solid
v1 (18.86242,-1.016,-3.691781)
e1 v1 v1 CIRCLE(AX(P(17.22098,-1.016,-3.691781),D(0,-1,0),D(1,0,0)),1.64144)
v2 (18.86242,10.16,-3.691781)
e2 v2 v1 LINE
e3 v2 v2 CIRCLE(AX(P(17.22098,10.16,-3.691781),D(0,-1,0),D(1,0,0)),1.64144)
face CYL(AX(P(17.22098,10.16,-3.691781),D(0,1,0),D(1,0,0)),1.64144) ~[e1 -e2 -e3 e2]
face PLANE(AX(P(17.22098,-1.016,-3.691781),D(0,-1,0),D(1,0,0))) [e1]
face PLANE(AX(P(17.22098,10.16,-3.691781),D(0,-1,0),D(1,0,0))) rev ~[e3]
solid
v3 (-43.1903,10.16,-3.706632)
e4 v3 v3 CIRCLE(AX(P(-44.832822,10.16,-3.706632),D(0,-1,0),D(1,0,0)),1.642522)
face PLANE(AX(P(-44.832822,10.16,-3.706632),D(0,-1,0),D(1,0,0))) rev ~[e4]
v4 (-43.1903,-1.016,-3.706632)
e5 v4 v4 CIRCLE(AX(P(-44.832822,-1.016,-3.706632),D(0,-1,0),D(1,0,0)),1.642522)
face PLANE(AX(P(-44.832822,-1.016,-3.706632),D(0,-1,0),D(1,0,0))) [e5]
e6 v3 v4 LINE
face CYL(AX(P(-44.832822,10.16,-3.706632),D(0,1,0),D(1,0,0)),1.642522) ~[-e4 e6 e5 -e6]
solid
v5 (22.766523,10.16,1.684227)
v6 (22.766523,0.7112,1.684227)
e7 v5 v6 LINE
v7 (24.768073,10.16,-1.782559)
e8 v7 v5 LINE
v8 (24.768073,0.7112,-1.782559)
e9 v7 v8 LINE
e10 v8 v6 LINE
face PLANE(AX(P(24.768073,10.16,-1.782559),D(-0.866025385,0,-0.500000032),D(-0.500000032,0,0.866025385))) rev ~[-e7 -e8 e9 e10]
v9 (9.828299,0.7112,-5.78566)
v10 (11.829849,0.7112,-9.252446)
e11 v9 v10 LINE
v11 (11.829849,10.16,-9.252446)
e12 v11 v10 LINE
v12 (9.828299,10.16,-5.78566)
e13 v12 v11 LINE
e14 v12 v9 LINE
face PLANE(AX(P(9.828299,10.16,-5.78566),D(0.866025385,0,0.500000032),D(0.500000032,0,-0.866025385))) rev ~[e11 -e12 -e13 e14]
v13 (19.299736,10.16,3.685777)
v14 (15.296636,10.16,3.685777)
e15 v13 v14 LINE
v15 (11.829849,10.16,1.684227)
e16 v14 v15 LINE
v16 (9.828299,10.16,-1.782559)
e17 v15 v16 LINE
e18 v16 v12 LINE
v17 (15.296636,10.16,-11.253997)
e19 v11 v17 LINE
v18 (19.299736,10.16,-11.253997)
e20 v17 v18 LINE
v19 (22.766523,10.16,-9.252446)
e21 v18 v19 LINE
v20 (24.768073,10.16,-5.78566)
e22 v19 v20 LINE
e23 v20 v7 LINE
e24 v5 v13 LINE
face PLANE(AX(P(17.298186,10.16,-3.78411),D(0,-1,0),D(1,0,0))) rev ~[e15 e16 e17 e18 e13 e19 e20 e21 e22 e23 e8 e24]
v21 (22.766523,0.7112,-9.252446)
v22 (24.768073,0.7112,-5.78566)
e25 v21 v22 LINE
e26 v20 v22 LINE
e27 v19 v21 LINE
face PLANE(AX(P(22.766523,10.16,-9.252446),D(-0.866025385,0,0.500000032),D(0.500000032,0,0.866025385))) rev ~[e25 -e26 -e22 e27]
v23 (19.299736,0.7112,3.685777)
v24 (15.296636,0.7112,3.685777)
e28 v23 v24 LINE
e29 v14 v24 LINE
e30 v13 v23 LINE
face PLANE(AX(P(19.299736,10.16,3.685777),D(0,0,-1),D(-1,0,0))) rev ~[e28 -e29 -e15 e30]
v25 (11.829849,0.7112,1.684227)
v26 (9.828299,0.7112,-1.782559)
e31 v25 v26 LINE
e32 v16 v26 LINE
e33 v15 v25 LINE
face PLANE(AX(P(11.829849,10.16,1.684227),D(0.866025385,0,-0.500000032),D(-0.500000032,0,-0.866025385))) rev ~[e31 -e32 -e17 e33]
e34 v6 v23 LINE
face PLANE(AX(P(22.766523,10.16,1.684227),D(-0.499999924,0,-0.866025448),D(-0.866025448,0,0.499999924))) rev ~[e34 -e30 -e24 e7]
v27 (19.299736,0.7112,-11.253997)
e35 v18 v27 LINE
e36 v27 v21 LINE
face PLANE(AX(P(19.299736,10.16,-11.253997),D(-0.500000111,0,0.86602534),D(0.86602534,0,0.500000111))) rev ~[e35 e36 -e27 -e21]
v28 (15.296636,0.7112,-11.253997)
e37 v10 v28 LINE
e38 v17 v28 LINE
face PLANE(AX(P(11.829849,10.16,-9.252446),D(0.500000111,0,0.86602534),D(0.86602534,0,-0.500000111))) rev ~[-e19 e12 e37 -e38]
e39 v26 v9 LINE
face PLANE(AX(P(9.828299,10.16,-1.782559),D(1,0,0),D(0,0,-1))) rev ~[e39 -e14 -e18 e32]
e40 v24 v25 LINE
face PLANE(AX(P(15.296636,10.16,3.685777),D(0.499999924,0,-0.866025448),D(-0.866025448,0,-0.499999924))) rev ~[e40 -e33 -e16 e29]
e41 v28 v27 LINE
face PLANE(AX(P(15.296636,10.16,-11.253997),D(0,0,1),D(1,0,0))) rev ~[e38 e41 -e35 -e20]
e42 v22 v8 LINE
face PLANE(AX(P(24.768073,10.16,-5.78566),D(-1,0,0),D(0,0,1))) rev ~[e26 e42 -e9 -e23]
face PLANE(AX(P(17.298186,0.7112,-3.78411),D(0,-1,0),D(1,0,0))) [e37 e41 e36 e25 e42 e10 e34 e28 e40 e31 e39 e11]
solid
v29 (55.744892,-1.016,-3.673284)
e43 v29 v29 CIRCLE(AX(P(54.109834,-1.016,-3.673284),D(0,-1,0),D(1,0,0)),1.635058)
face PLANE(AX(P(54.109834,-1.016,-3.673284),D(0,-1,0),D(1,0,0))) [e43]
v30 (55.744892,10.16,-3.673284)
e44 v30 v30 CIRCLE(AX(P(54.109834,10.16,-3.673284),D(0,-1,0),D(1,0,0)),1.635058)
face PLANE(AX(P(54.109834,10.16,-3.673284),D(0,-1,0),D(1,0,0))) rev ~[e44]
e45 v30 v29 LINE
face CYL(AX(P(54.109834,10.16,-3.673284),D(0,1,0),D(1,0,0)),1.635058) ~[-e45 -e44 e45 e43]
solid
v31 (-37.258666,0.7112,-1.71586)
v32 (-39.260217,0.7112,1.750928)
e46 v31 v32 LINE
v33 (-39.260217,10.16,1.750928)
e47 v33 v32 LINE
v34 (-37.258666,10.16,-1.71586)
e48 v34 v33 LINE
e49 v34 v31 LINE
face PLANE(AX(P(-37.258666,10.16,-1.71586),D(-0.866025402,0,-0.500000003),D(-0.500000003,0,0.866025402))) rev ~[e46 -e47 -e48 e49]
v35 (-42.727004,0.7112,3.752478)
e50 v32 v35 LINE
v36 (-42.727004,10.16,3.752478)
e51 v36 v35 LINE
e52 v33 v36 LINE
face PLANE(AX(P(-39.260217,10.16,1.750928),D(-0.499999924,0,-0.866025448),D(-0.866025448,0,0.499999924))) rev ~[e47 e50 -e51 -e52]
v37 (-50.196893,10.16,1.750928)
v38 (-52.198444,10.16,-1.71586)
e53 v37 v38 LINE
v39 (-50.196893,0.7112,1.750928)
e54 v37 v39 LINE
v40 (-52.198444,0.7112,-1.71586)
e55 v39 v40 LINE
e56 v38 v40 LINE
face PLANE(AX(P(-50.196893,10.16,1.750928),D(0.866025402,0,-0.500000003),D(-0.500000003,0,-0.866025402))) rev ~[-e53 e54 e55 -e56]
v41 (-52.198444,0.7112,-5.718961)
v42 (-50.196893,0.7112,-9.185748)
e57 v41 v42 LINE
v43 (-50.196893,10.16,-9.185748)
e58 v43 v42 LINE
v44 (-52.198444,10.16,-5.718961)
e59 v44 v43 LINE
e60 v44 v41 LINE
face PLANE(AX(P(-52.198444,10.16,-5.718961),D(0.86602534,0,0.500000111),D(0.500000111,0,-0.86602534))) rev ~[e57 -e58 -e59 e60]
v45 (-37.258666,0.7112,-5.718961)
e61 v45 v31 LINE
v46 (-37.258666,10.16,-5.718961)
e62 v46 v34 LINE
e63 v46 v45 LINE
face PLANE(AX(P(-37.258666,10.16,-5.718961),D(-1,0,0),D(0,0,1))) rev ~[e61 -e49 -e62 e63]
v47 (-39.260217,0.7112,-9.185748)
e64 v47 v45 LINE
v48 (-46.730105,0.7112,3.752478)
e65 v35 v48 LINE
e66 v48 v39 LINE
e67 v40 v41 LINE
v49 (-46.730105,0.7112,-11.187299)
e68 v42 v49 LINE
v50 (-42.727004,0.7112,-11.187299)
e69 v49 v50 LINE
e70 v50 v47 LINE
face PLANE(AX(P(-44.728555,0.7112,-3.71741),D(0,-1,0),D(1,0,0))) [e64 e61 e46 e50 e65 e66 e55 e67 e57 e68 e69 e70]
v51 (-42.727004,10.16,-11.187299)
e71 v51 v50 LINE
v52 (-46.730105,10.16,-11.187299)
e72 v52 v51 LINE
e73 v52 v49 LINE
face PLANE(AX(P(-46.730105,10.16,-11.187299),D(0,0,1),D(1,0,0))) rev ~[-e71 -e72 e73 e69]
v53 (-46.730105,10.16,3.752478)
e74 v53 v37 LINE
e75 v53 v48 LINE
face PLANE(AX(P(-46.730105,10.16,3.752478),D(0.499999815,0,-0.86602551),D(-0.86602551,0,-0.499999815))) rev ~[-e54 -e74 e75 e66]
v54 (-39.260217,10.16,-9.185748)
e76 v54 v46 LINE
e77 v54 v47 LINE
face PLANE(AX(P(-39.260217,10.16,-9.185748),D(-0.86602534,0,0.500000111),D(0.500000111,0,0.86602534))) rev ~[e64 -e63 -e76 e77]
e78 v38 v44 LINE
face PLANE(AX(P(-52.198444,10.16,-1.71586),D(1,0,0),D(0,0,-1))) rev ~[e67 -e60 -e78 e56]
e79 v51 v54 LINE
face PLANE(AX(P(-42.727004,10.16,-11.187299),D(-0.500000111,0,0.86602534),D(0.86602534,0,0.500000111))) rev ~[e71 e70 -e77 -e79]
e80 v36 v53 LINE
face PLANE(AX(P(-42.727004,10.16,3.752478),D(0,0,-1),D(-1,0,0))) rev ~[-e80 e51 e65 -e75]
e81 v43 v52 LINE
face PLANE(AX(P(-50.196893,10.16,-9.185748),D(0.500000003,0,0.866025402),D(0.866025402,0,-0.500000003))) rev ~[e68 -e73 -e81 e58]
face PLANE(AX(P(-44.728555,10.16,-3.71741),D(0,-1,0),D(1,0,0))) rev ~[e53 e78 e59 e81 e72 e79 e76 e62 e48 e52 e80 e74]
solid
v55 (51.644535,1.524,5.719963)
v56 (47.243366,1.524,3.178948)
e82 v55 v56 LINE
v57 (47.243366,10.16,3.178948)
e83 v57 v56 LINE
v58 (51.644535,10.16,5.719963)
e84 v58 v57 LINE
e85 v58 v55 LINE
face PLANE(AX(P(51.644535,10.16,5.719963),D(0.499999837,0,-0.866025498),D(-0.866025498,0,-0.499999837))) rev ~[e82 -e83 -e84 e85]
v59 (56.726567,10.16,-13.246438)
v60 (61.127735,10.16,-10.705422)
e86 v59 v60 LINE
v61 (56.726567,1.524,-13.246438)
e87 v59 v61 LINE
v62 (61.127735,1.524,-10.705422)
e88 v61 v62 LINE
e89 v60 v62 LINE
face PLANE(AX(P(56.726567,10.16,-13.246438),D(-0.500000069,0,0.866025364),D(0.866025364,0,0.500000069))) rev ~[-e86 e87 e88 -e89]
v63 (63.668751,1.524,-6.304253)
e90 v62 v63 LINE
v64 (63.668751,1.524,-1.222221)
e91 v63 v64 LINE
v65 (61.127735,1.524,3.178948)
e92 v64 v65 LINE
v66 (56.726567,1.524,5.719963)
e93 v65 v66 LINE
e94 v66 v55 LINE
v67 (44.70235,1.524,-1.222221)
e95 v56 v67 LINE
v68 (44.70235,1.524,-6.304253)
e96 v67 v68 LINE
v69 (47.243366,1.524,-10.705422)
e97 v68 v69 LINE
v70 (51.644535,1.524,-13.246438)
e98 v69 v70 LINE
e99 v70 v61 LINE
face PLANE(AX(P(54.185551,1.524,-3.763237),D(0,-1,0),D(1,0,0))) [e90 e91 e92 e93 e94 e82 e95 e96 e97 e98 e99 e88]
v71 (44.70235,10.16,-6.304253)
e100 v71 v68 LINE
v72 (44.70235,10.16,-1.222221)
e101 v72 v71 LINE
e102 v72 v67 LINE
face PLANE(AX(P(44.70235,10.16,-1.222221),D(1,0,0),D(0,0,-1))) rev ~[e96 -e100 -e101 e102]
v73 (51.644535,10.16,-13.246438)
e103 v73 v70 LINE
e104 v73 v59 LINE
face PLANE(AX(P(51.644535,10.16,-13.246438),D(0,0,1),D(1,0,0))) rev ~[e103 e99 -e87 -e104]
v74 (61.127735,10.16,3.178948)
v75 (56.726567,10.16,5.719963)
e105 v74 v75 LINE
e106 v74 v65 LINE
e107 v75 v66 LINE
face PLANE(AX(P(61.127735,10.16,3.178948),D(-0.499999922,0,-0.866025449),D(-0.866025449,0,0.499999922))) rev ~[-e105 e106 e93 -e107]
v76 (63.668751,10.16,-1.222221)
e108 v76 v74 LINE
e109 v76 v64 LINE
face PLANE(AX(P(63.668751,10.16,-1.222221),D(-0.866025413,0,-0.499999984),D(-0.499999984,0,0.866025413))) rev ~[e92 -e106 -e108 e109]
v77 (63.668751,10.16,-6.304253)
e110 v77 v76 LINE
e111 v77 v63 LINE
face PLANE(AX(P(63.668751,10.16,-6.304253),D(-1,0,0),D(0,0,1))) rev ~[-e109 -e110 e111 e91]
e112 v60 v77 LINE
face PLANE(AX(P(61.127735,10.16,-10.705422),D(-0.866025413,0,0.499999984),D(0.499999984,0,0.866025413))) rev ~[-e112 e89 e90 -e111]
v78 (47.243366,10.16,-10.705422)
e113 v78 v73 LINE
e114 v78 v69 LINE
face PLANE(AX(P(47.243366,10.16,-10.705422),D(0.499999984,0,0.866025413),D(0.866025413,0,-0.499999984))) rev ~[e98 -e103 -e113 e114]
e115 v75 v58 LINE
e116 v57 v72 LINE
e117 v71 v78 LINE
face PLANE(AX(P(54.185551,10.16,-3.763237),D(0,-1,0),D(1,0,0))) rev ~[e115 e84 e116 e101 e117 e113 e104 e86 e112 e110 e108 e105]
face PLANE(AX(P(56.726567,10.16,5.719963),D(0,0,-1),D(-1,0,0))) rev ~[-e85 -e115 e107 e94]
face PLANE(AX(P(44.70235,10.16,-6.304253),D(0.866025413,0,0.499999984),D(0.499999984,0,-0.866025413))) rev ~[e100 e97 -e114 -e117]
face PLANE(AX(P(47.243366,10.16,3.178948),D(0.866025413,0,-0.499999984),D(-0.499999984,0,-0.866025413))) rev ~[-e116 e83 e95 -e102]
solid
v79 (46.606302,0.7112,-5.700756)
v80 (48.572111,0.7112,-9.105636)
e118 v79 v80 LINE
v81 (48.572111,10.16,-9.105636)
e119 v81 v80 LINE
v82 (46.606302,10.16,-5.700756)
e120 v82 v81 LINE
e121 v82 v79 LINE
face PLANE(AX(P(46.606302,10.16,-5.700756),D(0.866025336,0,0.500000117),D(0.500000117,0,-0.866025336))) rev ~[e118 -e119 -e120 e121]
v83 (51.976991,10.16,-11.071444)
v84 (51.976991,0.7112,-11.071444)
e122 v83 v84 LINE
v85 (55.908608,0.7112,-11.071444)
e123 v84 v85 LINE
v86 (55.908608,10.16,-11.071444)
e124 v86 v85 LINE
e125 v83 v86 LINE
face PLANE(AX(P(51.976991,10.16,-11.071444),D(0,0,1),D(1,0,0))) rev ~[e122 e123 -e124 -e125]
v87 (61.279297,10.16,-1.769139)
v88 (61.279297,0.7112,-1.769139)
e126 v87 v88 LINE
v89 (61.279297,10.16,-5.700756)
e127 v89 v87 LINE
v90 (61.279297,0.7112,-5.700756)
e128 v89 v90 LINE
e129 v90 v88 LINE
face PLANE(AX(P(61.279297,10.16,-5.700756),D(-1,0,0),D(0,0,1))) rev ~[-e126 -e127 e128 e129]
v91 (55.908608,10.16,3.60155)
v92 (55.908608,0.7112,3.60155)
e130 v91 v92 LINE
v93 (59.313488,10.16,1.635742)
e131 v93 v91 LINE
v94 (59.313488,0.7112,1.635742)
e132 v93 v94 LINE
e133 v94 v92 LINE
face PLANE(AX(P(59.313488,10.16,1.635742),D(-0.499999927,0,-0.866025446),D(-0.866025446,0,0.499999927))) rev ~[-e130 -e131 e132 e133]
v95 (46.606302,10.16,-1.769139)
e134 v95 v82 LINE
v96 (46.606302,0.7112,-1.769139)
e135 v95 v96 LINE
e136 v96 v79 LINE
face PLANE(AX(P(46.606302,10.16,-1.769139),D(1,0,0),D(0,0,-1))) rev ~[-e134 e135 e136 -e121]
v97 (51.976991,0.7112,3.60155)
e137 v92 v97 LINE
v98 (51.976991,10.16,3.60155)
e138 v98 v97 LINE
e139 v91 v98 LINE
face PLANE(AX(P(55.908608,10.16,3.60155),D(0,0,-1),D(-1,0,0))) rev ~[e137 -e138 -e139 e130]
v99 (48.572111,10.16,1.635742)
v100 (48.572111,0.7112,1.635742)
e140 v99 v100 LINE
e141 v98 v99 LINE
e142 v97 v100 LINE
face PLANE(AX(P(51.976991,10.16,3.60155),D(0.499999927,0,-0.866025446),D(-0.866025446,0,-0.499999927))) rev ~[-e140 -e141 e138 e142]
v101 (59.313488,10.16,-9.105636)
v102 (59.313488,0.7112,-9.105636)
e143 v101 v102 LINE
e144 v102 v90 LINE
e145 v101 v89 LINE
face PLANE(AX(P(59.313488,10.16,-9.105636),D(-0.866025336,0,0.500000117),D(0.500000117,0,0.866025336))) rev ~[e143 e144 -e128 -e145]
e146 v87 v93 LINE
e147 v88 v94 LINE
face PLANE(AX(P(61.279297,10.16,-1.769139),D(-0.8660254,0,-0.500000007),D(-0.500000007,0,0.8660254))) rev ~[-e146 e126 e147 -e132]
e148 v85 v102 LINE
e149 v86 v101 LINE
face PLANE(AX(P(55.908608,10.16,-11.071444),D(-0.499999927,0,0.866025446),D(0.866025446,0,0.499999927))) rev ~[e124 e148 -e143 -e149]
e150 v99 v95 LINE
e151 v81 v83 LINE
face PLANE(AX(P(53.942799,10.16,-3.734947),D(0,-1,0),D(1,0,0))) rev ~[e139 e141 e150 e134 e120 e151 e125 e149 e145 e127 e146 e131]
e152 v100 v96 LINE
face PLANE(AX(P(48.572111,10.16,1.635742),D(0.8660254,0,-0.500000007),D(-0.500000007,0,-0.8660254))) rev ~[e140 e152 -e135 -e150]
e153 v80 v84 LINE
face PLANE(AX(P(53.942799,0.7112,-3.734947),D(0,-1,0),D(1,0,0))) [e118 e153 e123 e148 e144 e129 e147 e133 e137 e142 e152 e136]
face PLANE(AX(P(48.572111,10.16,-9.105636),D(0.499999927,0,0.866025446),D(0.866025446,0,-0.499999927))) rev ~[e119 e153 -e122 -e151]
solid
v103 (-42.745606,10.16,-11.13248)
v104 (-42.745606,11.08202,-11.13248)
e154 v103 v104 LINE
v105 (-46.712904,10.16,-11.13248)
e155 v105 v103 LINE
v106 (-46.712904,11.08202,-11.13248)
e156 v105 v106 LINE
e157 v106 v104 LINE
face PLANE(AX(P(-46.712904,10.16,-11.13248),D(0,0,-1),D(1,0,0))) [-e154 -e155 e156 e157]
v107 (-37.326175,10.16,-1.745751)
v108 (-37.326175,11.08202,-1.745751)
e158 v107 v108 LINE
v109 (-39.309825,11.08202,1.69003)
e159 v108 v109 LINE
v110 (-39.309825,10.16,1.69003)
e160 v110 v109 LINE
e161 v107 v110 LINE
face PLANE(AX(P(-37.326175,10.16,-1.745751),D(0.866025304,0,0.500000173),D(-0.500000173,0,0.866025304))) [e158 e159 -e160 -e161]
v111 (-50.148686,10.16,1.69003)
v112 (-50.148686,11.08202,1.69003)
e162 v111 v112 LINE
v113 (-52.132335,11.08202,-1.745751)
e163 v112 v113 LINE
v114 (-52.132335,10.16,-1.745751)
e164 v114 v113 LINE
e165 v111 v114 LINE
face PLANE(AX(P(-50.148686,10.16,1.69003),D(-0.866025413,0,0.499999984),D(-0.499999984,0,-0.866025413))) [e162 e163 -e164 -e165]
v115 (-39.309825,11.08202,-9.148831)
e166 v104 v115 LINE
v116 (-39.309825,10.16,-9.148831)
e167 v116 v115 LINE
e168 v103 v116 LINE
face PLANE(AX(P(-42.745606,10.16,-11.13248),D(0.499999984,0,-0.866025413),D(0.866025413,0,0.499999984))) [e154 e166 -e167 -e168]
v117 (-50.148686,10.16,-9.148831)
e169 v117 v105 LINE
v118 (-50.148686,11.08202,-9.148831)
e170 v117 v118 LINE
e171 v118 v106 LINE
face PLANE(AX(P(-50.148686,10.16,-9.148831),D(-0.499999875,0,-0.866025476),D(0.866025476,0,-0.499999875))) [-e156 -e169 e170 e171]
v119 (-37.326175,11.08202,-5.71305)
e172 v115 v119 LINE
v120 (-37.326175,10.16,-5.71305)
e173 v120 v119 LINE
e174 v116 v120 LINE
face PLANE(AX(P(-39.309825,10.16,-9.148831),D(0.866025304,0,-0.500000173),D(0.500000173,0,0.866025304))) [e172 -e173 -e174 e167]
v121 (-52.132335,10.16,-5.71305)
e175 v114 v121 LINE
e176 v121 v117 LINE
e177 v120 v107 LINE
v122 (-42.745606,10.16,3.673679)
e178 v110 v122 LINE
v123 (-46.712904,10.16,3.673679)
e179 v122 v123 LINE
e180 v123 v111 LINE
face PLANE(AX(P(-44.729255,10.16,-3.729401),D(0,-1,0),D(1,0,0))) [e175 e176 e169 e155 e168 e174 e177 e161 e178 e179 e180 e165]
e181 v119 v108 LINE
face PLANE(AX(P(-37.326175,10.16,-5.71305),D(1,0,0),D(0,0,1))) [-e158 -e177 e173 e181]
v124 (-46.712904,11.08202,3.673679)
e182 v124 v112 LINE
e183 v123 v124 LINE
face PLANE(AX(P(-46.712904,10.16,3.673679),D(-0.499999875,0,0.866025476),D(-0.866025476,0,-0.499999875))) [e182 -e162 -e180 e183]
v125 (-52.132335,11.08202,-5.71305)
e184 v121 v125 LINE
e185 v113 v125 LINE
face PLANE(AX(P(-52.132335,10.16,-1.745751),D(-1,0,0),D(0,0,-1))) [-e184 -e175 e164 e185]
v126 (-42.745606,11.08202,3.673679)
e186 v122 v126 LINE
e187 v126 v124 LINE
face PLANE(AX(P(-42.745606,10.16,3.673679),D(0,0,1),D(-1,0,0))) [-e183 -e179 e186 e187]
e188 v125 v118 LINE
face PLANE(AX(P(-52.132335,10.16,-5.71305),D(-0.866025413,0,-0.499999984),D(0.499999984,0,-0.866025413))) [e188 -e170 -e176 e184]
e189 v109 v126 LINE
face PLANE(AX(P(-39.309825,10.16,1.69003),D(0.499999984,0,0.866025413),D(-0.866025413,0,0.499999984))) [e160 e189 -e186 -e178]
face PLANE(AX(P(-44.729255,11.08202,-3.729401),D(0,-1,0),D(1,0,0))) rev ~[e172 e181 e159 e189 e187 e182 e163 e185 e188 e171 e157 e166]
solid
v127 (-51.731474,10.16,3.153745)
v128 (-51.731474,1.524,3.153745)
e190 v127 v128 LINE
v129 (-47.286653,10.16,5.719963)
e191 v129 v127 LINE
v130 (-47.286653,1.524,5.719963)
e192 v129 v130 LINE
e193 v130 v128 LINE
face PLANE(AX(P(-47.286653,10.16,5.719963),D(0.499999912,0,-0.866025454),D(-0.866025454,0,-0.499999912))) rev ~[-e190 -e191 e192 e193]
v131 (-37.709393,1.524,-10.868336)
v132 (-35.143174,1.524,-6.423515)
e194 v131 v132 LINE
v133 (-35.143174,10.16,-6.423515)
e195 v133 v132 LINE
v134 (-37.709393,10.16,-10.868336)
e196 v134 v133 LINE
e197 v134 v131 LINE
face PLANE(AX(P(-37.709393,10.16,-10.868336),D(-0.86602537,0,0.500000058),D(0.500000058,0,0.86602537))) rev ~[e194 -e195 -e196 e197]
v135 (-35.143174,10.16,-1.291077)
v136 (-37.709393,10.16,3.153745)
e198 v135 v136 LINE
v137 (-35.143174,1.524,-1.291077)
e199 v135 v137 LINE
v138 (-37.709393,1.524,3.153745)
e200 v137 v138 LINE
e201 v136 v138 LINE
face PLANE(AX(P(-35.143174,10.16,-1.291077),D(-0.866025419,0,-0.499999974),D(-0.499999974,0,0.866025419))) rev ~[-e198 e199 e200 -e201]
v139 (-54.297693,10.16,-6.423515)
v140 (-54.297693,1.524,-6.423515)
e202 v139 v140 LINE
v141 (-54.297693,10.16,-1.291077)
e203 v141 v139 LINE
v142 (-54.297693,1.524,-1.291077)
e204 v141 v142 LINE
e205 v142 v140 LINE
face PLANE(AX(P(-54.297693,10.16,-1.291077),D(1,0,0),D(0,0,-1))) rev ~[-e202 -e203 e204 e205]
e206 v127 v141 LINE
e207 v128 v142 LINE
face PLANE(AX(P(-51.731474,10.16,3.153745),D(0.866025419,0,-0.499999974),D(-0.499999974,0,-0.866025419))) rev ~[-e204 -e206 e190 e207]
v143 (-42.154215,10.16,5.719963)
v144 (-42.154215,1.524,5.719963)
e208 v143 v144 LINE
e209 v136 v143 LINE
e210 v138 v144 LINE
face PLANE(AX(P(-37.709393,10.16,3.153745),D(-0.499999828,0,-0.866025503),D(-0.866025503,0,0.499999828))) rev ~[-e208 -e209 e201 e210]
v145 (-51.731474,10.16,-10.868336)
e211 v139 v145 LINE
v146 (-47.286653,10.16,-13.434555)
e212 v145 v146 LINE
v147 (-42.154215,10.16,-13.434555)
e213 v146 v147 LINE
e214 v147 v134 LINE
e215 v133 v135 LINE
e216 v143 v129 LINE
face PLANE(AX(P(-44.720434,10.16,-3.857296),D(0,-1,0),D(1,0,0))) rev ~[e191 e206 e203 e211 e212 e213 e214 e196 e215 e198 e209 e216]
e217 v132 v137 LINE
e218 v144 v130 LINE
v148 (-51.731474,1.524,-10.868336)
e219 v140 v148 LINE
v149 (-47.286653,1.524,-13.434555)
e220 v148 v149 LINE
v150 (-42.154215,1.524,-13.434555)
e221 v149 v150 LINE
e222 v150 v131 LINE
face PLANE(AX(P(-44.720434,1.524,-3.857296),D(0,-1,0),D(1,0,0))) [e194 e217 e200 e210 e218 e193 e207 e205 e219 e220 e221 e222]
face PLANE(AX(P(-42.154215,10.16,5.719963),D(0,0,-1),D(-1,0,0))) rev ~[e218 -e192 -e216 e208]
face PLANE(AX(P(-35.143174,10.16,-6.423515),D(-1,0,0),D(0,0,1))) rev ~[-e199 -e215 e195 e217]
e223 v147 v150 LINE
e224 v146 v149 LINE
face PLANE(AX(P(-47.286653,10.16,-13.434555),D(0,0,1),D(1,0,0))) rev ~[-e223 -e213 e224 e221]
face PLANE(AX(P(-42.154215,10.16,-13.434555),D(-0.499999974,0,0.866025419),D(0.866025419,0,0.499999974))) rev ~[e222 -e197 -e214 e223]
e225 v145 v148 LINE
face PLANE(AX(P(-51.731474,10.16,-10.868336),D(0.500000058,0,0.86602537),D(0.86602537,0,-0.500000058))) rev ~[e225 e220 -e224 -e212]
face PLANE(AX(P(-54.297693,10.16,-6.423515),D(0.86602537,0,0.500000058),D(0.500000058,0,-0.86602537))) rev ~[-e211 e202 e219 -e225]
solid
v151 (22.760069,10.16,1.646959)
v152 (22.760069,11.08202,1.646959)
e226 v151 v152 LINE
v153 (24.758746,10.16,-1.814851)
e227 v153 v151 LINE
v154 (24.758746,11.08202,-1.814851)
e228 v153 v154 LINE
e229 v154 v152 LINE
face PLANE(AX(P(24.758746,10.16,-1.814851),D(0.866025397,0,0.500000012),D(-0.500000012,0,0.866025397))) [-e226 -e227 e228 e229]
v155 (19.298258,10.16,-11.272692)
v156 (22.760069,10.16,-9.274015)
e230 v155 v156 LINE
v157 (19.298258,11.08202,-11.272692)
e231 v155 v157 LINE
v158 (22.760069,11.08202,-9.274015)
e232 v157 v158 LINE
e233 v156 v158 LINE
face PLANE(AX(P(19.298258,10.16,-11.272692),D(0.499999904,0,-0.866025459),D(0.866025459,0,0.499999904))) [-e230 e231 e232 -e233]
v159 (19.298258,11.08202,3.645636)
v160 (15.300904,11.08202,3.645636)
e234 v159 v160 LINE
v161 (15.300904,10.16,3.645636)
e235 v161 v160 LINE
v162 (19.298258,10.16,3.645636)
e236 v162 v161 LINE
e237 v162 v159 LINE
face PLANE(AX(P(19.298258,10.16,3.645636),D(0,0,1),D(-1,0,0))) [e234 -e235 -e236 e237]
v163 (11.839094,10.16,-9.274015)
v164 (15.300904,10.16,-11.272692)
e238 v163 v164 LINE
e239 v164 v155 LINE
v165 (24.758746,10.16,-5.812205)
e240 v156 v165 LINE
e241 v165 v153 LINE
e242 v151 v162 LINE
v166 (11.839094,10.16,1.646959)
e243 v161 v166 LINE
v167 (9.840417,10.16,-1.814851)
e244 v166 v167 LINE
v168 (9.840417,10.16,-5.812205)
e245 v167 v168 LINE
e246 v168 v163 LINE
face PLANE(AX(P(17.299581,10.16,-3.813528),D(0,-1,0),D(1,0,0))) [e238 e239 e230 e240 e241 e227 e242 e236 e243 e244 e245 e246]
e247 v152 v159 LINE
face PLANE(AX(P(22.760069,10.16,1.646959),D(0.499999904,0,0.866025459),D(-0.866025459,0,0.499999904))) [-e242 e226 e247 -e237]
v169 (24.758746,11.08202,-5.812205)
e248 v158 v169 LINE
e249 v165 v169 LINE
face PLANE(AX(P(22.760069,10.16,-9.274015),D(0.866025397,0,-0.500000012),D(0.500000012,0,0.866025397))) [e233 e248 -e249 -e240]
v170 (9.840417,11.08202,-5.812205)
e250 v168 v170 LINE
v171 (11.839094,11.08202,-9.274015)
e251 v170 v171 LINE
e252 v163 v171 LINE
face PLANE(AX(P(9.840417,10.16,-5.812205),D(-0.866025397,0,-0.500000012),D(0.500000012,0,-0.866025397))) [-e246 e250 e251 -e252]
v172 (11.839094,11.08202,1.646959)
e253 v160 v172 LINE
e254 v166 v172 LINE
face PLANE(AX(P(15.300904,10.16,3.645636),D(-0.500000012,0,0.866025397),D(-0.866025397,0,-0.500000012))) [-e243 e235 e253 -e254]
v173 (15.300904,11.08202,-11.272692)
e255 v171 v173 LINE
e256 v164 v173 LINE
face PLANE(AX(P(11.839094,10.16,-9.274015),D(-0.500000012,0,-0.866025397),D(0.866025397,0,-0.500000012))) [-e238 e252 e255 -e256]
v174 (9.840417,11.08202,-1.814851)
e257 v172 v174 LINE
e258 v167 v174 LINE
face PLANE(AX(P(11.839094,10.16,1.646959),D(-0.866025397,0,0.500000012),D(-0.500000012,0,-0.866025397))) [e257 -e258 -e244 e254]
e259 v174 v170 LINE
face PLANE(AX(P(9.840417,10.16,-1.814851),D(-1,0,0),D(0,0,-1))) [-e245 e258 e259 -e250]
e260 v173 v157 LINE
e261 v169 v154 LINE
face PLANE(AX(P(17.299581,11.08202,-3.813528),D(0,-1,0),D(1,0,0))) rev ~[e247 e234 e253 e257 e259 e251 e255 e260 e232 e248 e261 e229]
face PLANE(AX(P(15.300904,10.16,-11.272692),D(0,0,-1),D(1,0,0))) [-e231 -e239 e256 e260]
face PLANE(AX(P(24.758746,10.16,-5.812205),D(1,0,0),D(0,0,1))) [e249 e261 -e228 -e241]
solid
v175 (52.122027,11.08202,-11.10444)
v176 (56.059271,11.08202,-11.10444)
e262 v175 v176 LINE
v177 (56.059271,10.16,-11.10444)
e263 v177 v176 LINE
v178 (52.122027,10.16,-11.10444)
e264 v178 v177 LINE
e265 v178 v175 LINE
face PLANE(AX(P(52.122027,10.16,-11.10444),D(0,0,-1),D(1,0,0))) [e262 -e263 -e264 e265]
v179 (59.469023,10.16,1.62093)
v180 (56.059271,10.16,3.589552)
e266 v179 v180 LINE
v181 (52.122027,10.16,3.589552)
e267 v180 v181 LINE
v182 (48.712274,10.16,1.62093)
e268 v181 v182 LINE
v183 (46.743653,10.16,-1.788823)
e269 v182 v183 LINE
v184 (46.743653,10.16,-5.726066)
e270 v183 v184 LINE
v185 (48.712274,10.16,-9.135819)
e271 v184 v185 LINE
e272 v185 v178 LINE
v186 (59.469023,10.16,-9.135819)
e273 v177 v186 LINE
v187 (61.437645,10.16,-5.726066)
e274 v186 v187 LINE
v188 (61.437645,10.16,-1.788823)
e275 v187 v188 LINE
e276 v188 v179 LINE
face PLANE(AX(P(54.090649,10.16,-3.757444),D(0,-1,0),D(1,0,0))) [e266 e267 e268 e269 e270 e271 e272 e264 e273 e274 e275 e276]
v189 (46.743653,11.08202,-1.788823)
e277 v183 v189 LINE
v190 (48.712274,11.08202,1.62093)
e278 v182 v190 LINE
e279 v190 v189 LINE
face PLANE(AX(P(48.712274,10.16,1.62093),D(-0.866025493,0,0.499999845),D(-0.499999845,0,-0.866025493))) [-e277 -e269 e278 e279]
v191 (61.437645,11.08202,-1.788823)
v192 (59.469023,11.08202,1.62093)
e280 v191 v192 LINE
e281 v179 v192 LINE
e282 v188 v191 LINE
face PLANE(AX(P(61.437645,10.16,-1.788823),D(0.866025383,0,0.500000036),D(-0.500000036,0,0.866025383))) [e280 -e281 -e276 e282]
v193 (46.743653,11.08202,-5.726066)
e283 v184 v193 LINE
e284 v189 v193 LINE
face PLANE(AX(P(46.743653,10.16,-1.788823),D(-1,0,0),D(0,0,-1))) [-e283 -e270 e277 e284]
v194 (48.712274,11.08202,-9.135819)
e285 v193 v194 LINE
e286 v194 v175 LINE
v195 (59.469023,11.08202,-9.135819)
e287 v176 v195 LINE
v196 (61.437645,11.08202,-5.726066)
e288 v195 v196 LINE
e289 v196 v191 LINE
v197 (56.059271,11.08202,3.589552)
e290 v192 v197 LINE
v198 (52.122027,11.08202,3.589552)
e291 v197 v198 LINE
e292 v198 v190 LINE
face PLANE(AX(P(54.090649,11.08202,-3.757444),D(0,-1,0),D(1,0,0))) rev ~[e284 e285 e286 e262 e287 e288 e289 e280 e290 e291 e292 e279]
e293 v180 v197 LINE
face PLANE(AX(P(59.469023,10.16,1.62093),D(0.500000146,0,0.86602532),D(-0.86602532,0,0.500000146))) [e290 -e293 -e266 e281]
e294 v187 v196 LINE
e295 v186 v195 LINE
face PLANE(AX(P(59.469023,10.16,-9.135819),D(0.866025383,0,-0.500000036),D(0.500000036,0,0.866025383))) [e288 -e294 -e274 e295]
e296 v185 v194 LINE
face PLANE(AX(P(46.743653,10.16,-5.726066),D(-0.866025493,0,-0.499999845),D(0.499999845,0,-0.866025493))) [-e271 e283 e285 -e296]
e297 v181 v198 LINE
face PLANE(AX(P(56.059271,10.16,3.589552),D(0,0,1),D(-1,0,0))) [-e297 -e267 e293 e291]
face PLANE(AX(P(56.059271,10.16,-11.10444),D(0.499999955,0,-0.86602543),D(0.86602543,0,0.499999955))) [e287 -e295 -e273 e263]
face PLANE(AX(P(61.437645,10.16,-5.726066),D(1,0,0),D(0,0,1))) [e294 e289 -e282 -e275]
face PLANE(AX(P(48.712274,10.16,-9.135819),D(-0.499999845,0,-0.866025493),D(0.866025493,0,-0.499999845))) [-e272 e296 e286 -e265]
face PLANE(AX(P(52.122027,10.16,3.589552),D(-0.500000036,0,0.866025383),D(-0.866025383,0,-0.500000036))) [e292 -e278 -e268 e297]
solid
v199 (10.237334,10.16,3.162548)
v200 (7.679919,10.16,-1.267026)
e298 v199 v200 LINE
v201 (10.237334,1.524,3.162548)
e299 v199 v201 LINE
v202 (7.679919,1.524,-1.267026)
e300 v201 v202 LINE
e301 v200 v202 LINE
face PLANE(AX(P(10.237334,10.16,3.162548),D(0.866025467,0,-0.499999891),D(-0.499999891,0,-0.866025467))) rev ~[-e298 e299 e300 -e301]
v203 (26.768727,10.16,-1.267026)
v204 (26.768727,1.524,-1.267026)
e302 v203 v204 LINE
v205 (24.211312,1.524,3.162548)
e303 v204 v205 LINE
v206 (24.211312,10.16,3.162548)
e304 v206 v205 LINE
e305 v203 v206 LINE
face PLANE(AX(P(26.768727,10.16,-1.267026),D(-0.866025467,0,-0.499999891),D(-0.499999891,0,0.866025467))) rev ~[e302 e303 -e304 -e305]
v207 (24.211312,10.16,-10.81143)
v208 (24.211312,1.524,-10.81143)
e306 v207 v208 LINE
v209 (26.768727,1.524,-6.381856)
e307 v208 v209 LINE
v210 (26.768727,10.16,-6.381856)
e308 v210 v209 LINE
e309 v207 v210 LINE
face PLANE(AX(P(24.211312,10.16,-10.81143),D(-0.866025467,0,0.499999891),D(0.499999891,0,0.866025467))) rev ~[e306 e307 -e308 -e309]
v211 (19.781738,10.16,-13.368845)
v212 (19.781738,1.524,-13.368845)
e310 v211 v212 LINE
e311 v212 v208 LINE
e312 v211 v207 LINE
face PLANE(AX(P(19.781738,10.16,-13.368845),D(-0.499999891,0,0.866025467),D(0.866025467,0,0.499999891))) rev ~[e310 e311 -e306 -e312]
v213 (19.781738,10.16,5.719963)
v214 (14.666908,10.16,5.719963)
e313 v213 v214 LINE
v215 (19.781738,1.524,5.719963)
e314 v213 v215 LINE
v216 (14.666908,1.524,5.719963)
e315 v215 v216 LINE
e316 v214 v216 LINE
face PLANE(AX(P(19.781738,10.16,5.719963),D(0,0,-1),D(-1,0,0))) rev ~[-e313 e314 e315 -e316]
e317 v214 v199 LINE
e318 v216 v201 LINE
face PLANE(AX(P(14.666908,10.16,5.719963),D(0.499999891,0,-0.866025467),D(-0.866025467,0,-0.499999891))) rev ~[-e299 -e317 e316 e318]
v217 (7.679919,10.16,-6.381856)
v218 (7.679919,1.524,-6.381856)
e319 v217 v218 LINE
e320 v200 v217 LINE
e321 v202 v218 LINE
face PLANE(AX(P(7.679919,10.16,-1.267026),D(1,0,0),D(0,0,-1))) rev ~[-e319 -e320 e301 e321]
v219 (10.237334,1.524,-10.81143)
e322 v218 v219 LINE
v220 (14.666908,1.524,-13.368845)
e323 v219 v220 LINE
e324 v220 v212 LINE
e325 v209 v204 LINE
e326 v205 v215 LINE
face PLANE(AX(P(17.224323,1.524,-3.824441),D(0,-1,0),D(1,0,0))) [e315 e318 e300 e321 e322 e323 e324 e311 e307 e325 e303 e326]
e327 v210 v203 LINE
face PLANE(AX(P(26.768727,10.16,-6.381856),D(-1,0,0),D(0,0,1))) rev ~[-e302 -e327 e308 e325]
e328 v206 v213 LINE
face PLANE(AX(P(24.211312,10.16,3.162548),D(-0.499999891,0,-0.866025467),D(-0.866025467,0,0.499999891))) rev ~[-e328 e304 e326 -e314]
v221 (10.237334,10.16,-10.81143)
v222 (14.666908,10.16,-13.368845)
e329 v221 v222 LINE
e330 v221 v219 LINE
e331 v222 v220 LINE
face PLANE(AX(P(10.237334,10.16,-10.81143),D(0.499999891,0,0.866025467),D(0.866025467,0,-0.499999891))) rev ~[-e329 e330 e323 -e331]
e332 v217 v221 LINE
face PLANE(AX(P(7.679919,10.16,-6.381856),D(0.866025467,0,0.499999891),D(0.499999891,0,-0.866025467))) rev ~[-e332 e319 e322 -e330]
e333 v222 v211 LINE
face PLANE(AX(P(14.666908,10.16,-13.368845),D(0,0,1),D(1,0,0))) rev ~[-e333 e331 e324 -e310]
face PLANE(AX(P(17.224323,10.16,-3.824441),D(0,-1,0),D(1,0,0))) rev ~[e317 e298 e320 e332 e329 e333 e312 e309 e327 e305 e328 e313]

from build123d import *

# Parameters (mm, degrees)
F7_DEPTH  = 8.636
F8_DEPTH  = 0.92202
F9_DEPTH  = 9.4488
F10_R     = 1.642522
F10_R_2   = 1.635058
F10_R_3   = 1.64144
F11_DEPTH = 11.176


with BuildPart() as f7:
    # F2 (on offset) → F7 (new body)
    with BuildSketch(Plane.XZ.offset(-10.16)):
        Polygon((51.644535, -13.246438), (56.726567, -13.246438), (61.127735, -10.705422), (63.668751, -6.304253), (63.668751, -1.222221), (61.127735, 3.178948), (56.726567, 5.719963), (51.644535, 5.719963), (47.243366, 3.178948), (44.70235, -1.222221), (44.70235, -6.304253), (47.243366, -10.705422), align=None)
        Polygon((19.781738, 5.719963), (14.666908, 5.719963), (10.237334, 3.162548), (7.679919, -1.267026), (7.679919, -6.381856), (10.237334, -10.81143), (14.666908, -13.368845), (19.781738, -13.368845), (24.211312, -10.81143), (26.768727, -6.381856), (26.768727, -1.267026), (24.211312, 3.162548), align=None)
        Polygon((-42.154215, 5.719963), (-47.286653, 5.719963), (-51.731474, 3.153745), (-54.297693, -1.291077), (-54.297693, -6.423515), (-51.731474, -10.868336), (-47.286653, -13.434555), (-42.154215, -13.434555), (-37.709393, -10.868336), (-35.143174, -6.423515), (-35.143174, -1.291077), (-37.709393, 3.153745), align=None)
    extrude(amount=F7_DEPTH)


with BuildPart() as f8:
    # F5 (on offset) → F8 (new body)
    with BuildSketch(Plane.XZ.offset(-10.16)):
        Polygon((-42.745606, 3.673679), (-46.712904, 3.673679), (-50.148686, 1.69003), (-52.132335, -1.745751), (-52.132335, -5.71305), (-50.148686, -9.148831), (-46.712904, -11.13248), (-42.745606, -11.13248), (-39.309825, -9.148831), (-37.326175, -5.71305), (-37.326175, -1.745751), (-39.309825, 1.69003), align=None)
        Polygon((19.298258, 3.645636), (15.300904, 3.645636), (11.839094, 1.646959), (9.840417, -1.814851), (9.840417, -5.812205), (11.839094, -9.274015), (15.300904, -11.272692), (19.298258, -11.272692), (22.760069, -9.274015), (24.758746, -5.812205), (24.758746, -1.814851), (22.760069, 1.646959), align=None)
        Polygon((56.059271, 3.589552), (52.122027, 3.589552), (48.712274, 1.62093), (46.743653, -1.788823), (46.743653, -5.726066), (48.712274, -9.135819), (52.122027, -11.10444), (56.059271, -11.10444), (59.469023, -9.135819), (61.437645, -5.726066), (61.437645, -1.788823), (59.469023, 1.62093), align=None)
    extrude(amount=-F8_DEPTH)


with BuildPart() as f9:
    # F6 (on offset) → F9 (new body)
    with BuildSketch(Plane.XZ.offset(-10.16)):
        Polygon((61.279297, -5.700756), (61.279297, -1.769139), (59.313488, 1.635742), (55.908608, 3.60155), (51.976991, 3.60155), (48.572111, 1.635742), (46.606302, -1.769139), (46.606302, -5.700756), (48.572111, -9.105636), (51.976991, -11.071444), (55.908608, -11.071444), (59.313488, -9.105636), align=None)
        Polygon((9.828299, -1.782559), (9.828299, -5.78566), (11.829849, -9.252446), (15.296636, -11.253997), (19.299736, -11.253997), (22.766523, -9.252446), (24.768073, -5.78566), (24.768073, -1.782559), (22.766523, 1.684227), (19.299736, 3.685777), (15.296636, 3.685777), (11.829849, 1.684227), align=None)
        Polygon((-52.198444, -1.71586), (-52.198444, -5.718961), (-50.196893, -9.185748), (-46.730105, -11.187299), (-42.727004, -11.187299), (-39.260217, -9.185748), (-37.258666, -5.718961), (-37.258666, -1.71586), (-39.260217, 1.750928), (-42.727004, 3.752478), (-46.730105, 3.752478), (-50.196893, 1.750928), align=None)
    extrude(amount=F9_DEPTH)


with BuildPart() as f11:
    # F10 (on offset) → F11 (new body)
    with BuildSketch(Plane.XZ.offset(-10.16)):
        with Locations((-44.832822, -3.706632)):
            Circle(F10_R)
        with Locations((54.109834, -3.673284)):
            Circle(F10_R_2)
        with Locations((17.22098, -3.691781)):
            Circle(F10_R_3)
    extrude(amount=F11_DEPTH)


solid = Compound([f7.part, f8.part, f9.part, f11.part])
